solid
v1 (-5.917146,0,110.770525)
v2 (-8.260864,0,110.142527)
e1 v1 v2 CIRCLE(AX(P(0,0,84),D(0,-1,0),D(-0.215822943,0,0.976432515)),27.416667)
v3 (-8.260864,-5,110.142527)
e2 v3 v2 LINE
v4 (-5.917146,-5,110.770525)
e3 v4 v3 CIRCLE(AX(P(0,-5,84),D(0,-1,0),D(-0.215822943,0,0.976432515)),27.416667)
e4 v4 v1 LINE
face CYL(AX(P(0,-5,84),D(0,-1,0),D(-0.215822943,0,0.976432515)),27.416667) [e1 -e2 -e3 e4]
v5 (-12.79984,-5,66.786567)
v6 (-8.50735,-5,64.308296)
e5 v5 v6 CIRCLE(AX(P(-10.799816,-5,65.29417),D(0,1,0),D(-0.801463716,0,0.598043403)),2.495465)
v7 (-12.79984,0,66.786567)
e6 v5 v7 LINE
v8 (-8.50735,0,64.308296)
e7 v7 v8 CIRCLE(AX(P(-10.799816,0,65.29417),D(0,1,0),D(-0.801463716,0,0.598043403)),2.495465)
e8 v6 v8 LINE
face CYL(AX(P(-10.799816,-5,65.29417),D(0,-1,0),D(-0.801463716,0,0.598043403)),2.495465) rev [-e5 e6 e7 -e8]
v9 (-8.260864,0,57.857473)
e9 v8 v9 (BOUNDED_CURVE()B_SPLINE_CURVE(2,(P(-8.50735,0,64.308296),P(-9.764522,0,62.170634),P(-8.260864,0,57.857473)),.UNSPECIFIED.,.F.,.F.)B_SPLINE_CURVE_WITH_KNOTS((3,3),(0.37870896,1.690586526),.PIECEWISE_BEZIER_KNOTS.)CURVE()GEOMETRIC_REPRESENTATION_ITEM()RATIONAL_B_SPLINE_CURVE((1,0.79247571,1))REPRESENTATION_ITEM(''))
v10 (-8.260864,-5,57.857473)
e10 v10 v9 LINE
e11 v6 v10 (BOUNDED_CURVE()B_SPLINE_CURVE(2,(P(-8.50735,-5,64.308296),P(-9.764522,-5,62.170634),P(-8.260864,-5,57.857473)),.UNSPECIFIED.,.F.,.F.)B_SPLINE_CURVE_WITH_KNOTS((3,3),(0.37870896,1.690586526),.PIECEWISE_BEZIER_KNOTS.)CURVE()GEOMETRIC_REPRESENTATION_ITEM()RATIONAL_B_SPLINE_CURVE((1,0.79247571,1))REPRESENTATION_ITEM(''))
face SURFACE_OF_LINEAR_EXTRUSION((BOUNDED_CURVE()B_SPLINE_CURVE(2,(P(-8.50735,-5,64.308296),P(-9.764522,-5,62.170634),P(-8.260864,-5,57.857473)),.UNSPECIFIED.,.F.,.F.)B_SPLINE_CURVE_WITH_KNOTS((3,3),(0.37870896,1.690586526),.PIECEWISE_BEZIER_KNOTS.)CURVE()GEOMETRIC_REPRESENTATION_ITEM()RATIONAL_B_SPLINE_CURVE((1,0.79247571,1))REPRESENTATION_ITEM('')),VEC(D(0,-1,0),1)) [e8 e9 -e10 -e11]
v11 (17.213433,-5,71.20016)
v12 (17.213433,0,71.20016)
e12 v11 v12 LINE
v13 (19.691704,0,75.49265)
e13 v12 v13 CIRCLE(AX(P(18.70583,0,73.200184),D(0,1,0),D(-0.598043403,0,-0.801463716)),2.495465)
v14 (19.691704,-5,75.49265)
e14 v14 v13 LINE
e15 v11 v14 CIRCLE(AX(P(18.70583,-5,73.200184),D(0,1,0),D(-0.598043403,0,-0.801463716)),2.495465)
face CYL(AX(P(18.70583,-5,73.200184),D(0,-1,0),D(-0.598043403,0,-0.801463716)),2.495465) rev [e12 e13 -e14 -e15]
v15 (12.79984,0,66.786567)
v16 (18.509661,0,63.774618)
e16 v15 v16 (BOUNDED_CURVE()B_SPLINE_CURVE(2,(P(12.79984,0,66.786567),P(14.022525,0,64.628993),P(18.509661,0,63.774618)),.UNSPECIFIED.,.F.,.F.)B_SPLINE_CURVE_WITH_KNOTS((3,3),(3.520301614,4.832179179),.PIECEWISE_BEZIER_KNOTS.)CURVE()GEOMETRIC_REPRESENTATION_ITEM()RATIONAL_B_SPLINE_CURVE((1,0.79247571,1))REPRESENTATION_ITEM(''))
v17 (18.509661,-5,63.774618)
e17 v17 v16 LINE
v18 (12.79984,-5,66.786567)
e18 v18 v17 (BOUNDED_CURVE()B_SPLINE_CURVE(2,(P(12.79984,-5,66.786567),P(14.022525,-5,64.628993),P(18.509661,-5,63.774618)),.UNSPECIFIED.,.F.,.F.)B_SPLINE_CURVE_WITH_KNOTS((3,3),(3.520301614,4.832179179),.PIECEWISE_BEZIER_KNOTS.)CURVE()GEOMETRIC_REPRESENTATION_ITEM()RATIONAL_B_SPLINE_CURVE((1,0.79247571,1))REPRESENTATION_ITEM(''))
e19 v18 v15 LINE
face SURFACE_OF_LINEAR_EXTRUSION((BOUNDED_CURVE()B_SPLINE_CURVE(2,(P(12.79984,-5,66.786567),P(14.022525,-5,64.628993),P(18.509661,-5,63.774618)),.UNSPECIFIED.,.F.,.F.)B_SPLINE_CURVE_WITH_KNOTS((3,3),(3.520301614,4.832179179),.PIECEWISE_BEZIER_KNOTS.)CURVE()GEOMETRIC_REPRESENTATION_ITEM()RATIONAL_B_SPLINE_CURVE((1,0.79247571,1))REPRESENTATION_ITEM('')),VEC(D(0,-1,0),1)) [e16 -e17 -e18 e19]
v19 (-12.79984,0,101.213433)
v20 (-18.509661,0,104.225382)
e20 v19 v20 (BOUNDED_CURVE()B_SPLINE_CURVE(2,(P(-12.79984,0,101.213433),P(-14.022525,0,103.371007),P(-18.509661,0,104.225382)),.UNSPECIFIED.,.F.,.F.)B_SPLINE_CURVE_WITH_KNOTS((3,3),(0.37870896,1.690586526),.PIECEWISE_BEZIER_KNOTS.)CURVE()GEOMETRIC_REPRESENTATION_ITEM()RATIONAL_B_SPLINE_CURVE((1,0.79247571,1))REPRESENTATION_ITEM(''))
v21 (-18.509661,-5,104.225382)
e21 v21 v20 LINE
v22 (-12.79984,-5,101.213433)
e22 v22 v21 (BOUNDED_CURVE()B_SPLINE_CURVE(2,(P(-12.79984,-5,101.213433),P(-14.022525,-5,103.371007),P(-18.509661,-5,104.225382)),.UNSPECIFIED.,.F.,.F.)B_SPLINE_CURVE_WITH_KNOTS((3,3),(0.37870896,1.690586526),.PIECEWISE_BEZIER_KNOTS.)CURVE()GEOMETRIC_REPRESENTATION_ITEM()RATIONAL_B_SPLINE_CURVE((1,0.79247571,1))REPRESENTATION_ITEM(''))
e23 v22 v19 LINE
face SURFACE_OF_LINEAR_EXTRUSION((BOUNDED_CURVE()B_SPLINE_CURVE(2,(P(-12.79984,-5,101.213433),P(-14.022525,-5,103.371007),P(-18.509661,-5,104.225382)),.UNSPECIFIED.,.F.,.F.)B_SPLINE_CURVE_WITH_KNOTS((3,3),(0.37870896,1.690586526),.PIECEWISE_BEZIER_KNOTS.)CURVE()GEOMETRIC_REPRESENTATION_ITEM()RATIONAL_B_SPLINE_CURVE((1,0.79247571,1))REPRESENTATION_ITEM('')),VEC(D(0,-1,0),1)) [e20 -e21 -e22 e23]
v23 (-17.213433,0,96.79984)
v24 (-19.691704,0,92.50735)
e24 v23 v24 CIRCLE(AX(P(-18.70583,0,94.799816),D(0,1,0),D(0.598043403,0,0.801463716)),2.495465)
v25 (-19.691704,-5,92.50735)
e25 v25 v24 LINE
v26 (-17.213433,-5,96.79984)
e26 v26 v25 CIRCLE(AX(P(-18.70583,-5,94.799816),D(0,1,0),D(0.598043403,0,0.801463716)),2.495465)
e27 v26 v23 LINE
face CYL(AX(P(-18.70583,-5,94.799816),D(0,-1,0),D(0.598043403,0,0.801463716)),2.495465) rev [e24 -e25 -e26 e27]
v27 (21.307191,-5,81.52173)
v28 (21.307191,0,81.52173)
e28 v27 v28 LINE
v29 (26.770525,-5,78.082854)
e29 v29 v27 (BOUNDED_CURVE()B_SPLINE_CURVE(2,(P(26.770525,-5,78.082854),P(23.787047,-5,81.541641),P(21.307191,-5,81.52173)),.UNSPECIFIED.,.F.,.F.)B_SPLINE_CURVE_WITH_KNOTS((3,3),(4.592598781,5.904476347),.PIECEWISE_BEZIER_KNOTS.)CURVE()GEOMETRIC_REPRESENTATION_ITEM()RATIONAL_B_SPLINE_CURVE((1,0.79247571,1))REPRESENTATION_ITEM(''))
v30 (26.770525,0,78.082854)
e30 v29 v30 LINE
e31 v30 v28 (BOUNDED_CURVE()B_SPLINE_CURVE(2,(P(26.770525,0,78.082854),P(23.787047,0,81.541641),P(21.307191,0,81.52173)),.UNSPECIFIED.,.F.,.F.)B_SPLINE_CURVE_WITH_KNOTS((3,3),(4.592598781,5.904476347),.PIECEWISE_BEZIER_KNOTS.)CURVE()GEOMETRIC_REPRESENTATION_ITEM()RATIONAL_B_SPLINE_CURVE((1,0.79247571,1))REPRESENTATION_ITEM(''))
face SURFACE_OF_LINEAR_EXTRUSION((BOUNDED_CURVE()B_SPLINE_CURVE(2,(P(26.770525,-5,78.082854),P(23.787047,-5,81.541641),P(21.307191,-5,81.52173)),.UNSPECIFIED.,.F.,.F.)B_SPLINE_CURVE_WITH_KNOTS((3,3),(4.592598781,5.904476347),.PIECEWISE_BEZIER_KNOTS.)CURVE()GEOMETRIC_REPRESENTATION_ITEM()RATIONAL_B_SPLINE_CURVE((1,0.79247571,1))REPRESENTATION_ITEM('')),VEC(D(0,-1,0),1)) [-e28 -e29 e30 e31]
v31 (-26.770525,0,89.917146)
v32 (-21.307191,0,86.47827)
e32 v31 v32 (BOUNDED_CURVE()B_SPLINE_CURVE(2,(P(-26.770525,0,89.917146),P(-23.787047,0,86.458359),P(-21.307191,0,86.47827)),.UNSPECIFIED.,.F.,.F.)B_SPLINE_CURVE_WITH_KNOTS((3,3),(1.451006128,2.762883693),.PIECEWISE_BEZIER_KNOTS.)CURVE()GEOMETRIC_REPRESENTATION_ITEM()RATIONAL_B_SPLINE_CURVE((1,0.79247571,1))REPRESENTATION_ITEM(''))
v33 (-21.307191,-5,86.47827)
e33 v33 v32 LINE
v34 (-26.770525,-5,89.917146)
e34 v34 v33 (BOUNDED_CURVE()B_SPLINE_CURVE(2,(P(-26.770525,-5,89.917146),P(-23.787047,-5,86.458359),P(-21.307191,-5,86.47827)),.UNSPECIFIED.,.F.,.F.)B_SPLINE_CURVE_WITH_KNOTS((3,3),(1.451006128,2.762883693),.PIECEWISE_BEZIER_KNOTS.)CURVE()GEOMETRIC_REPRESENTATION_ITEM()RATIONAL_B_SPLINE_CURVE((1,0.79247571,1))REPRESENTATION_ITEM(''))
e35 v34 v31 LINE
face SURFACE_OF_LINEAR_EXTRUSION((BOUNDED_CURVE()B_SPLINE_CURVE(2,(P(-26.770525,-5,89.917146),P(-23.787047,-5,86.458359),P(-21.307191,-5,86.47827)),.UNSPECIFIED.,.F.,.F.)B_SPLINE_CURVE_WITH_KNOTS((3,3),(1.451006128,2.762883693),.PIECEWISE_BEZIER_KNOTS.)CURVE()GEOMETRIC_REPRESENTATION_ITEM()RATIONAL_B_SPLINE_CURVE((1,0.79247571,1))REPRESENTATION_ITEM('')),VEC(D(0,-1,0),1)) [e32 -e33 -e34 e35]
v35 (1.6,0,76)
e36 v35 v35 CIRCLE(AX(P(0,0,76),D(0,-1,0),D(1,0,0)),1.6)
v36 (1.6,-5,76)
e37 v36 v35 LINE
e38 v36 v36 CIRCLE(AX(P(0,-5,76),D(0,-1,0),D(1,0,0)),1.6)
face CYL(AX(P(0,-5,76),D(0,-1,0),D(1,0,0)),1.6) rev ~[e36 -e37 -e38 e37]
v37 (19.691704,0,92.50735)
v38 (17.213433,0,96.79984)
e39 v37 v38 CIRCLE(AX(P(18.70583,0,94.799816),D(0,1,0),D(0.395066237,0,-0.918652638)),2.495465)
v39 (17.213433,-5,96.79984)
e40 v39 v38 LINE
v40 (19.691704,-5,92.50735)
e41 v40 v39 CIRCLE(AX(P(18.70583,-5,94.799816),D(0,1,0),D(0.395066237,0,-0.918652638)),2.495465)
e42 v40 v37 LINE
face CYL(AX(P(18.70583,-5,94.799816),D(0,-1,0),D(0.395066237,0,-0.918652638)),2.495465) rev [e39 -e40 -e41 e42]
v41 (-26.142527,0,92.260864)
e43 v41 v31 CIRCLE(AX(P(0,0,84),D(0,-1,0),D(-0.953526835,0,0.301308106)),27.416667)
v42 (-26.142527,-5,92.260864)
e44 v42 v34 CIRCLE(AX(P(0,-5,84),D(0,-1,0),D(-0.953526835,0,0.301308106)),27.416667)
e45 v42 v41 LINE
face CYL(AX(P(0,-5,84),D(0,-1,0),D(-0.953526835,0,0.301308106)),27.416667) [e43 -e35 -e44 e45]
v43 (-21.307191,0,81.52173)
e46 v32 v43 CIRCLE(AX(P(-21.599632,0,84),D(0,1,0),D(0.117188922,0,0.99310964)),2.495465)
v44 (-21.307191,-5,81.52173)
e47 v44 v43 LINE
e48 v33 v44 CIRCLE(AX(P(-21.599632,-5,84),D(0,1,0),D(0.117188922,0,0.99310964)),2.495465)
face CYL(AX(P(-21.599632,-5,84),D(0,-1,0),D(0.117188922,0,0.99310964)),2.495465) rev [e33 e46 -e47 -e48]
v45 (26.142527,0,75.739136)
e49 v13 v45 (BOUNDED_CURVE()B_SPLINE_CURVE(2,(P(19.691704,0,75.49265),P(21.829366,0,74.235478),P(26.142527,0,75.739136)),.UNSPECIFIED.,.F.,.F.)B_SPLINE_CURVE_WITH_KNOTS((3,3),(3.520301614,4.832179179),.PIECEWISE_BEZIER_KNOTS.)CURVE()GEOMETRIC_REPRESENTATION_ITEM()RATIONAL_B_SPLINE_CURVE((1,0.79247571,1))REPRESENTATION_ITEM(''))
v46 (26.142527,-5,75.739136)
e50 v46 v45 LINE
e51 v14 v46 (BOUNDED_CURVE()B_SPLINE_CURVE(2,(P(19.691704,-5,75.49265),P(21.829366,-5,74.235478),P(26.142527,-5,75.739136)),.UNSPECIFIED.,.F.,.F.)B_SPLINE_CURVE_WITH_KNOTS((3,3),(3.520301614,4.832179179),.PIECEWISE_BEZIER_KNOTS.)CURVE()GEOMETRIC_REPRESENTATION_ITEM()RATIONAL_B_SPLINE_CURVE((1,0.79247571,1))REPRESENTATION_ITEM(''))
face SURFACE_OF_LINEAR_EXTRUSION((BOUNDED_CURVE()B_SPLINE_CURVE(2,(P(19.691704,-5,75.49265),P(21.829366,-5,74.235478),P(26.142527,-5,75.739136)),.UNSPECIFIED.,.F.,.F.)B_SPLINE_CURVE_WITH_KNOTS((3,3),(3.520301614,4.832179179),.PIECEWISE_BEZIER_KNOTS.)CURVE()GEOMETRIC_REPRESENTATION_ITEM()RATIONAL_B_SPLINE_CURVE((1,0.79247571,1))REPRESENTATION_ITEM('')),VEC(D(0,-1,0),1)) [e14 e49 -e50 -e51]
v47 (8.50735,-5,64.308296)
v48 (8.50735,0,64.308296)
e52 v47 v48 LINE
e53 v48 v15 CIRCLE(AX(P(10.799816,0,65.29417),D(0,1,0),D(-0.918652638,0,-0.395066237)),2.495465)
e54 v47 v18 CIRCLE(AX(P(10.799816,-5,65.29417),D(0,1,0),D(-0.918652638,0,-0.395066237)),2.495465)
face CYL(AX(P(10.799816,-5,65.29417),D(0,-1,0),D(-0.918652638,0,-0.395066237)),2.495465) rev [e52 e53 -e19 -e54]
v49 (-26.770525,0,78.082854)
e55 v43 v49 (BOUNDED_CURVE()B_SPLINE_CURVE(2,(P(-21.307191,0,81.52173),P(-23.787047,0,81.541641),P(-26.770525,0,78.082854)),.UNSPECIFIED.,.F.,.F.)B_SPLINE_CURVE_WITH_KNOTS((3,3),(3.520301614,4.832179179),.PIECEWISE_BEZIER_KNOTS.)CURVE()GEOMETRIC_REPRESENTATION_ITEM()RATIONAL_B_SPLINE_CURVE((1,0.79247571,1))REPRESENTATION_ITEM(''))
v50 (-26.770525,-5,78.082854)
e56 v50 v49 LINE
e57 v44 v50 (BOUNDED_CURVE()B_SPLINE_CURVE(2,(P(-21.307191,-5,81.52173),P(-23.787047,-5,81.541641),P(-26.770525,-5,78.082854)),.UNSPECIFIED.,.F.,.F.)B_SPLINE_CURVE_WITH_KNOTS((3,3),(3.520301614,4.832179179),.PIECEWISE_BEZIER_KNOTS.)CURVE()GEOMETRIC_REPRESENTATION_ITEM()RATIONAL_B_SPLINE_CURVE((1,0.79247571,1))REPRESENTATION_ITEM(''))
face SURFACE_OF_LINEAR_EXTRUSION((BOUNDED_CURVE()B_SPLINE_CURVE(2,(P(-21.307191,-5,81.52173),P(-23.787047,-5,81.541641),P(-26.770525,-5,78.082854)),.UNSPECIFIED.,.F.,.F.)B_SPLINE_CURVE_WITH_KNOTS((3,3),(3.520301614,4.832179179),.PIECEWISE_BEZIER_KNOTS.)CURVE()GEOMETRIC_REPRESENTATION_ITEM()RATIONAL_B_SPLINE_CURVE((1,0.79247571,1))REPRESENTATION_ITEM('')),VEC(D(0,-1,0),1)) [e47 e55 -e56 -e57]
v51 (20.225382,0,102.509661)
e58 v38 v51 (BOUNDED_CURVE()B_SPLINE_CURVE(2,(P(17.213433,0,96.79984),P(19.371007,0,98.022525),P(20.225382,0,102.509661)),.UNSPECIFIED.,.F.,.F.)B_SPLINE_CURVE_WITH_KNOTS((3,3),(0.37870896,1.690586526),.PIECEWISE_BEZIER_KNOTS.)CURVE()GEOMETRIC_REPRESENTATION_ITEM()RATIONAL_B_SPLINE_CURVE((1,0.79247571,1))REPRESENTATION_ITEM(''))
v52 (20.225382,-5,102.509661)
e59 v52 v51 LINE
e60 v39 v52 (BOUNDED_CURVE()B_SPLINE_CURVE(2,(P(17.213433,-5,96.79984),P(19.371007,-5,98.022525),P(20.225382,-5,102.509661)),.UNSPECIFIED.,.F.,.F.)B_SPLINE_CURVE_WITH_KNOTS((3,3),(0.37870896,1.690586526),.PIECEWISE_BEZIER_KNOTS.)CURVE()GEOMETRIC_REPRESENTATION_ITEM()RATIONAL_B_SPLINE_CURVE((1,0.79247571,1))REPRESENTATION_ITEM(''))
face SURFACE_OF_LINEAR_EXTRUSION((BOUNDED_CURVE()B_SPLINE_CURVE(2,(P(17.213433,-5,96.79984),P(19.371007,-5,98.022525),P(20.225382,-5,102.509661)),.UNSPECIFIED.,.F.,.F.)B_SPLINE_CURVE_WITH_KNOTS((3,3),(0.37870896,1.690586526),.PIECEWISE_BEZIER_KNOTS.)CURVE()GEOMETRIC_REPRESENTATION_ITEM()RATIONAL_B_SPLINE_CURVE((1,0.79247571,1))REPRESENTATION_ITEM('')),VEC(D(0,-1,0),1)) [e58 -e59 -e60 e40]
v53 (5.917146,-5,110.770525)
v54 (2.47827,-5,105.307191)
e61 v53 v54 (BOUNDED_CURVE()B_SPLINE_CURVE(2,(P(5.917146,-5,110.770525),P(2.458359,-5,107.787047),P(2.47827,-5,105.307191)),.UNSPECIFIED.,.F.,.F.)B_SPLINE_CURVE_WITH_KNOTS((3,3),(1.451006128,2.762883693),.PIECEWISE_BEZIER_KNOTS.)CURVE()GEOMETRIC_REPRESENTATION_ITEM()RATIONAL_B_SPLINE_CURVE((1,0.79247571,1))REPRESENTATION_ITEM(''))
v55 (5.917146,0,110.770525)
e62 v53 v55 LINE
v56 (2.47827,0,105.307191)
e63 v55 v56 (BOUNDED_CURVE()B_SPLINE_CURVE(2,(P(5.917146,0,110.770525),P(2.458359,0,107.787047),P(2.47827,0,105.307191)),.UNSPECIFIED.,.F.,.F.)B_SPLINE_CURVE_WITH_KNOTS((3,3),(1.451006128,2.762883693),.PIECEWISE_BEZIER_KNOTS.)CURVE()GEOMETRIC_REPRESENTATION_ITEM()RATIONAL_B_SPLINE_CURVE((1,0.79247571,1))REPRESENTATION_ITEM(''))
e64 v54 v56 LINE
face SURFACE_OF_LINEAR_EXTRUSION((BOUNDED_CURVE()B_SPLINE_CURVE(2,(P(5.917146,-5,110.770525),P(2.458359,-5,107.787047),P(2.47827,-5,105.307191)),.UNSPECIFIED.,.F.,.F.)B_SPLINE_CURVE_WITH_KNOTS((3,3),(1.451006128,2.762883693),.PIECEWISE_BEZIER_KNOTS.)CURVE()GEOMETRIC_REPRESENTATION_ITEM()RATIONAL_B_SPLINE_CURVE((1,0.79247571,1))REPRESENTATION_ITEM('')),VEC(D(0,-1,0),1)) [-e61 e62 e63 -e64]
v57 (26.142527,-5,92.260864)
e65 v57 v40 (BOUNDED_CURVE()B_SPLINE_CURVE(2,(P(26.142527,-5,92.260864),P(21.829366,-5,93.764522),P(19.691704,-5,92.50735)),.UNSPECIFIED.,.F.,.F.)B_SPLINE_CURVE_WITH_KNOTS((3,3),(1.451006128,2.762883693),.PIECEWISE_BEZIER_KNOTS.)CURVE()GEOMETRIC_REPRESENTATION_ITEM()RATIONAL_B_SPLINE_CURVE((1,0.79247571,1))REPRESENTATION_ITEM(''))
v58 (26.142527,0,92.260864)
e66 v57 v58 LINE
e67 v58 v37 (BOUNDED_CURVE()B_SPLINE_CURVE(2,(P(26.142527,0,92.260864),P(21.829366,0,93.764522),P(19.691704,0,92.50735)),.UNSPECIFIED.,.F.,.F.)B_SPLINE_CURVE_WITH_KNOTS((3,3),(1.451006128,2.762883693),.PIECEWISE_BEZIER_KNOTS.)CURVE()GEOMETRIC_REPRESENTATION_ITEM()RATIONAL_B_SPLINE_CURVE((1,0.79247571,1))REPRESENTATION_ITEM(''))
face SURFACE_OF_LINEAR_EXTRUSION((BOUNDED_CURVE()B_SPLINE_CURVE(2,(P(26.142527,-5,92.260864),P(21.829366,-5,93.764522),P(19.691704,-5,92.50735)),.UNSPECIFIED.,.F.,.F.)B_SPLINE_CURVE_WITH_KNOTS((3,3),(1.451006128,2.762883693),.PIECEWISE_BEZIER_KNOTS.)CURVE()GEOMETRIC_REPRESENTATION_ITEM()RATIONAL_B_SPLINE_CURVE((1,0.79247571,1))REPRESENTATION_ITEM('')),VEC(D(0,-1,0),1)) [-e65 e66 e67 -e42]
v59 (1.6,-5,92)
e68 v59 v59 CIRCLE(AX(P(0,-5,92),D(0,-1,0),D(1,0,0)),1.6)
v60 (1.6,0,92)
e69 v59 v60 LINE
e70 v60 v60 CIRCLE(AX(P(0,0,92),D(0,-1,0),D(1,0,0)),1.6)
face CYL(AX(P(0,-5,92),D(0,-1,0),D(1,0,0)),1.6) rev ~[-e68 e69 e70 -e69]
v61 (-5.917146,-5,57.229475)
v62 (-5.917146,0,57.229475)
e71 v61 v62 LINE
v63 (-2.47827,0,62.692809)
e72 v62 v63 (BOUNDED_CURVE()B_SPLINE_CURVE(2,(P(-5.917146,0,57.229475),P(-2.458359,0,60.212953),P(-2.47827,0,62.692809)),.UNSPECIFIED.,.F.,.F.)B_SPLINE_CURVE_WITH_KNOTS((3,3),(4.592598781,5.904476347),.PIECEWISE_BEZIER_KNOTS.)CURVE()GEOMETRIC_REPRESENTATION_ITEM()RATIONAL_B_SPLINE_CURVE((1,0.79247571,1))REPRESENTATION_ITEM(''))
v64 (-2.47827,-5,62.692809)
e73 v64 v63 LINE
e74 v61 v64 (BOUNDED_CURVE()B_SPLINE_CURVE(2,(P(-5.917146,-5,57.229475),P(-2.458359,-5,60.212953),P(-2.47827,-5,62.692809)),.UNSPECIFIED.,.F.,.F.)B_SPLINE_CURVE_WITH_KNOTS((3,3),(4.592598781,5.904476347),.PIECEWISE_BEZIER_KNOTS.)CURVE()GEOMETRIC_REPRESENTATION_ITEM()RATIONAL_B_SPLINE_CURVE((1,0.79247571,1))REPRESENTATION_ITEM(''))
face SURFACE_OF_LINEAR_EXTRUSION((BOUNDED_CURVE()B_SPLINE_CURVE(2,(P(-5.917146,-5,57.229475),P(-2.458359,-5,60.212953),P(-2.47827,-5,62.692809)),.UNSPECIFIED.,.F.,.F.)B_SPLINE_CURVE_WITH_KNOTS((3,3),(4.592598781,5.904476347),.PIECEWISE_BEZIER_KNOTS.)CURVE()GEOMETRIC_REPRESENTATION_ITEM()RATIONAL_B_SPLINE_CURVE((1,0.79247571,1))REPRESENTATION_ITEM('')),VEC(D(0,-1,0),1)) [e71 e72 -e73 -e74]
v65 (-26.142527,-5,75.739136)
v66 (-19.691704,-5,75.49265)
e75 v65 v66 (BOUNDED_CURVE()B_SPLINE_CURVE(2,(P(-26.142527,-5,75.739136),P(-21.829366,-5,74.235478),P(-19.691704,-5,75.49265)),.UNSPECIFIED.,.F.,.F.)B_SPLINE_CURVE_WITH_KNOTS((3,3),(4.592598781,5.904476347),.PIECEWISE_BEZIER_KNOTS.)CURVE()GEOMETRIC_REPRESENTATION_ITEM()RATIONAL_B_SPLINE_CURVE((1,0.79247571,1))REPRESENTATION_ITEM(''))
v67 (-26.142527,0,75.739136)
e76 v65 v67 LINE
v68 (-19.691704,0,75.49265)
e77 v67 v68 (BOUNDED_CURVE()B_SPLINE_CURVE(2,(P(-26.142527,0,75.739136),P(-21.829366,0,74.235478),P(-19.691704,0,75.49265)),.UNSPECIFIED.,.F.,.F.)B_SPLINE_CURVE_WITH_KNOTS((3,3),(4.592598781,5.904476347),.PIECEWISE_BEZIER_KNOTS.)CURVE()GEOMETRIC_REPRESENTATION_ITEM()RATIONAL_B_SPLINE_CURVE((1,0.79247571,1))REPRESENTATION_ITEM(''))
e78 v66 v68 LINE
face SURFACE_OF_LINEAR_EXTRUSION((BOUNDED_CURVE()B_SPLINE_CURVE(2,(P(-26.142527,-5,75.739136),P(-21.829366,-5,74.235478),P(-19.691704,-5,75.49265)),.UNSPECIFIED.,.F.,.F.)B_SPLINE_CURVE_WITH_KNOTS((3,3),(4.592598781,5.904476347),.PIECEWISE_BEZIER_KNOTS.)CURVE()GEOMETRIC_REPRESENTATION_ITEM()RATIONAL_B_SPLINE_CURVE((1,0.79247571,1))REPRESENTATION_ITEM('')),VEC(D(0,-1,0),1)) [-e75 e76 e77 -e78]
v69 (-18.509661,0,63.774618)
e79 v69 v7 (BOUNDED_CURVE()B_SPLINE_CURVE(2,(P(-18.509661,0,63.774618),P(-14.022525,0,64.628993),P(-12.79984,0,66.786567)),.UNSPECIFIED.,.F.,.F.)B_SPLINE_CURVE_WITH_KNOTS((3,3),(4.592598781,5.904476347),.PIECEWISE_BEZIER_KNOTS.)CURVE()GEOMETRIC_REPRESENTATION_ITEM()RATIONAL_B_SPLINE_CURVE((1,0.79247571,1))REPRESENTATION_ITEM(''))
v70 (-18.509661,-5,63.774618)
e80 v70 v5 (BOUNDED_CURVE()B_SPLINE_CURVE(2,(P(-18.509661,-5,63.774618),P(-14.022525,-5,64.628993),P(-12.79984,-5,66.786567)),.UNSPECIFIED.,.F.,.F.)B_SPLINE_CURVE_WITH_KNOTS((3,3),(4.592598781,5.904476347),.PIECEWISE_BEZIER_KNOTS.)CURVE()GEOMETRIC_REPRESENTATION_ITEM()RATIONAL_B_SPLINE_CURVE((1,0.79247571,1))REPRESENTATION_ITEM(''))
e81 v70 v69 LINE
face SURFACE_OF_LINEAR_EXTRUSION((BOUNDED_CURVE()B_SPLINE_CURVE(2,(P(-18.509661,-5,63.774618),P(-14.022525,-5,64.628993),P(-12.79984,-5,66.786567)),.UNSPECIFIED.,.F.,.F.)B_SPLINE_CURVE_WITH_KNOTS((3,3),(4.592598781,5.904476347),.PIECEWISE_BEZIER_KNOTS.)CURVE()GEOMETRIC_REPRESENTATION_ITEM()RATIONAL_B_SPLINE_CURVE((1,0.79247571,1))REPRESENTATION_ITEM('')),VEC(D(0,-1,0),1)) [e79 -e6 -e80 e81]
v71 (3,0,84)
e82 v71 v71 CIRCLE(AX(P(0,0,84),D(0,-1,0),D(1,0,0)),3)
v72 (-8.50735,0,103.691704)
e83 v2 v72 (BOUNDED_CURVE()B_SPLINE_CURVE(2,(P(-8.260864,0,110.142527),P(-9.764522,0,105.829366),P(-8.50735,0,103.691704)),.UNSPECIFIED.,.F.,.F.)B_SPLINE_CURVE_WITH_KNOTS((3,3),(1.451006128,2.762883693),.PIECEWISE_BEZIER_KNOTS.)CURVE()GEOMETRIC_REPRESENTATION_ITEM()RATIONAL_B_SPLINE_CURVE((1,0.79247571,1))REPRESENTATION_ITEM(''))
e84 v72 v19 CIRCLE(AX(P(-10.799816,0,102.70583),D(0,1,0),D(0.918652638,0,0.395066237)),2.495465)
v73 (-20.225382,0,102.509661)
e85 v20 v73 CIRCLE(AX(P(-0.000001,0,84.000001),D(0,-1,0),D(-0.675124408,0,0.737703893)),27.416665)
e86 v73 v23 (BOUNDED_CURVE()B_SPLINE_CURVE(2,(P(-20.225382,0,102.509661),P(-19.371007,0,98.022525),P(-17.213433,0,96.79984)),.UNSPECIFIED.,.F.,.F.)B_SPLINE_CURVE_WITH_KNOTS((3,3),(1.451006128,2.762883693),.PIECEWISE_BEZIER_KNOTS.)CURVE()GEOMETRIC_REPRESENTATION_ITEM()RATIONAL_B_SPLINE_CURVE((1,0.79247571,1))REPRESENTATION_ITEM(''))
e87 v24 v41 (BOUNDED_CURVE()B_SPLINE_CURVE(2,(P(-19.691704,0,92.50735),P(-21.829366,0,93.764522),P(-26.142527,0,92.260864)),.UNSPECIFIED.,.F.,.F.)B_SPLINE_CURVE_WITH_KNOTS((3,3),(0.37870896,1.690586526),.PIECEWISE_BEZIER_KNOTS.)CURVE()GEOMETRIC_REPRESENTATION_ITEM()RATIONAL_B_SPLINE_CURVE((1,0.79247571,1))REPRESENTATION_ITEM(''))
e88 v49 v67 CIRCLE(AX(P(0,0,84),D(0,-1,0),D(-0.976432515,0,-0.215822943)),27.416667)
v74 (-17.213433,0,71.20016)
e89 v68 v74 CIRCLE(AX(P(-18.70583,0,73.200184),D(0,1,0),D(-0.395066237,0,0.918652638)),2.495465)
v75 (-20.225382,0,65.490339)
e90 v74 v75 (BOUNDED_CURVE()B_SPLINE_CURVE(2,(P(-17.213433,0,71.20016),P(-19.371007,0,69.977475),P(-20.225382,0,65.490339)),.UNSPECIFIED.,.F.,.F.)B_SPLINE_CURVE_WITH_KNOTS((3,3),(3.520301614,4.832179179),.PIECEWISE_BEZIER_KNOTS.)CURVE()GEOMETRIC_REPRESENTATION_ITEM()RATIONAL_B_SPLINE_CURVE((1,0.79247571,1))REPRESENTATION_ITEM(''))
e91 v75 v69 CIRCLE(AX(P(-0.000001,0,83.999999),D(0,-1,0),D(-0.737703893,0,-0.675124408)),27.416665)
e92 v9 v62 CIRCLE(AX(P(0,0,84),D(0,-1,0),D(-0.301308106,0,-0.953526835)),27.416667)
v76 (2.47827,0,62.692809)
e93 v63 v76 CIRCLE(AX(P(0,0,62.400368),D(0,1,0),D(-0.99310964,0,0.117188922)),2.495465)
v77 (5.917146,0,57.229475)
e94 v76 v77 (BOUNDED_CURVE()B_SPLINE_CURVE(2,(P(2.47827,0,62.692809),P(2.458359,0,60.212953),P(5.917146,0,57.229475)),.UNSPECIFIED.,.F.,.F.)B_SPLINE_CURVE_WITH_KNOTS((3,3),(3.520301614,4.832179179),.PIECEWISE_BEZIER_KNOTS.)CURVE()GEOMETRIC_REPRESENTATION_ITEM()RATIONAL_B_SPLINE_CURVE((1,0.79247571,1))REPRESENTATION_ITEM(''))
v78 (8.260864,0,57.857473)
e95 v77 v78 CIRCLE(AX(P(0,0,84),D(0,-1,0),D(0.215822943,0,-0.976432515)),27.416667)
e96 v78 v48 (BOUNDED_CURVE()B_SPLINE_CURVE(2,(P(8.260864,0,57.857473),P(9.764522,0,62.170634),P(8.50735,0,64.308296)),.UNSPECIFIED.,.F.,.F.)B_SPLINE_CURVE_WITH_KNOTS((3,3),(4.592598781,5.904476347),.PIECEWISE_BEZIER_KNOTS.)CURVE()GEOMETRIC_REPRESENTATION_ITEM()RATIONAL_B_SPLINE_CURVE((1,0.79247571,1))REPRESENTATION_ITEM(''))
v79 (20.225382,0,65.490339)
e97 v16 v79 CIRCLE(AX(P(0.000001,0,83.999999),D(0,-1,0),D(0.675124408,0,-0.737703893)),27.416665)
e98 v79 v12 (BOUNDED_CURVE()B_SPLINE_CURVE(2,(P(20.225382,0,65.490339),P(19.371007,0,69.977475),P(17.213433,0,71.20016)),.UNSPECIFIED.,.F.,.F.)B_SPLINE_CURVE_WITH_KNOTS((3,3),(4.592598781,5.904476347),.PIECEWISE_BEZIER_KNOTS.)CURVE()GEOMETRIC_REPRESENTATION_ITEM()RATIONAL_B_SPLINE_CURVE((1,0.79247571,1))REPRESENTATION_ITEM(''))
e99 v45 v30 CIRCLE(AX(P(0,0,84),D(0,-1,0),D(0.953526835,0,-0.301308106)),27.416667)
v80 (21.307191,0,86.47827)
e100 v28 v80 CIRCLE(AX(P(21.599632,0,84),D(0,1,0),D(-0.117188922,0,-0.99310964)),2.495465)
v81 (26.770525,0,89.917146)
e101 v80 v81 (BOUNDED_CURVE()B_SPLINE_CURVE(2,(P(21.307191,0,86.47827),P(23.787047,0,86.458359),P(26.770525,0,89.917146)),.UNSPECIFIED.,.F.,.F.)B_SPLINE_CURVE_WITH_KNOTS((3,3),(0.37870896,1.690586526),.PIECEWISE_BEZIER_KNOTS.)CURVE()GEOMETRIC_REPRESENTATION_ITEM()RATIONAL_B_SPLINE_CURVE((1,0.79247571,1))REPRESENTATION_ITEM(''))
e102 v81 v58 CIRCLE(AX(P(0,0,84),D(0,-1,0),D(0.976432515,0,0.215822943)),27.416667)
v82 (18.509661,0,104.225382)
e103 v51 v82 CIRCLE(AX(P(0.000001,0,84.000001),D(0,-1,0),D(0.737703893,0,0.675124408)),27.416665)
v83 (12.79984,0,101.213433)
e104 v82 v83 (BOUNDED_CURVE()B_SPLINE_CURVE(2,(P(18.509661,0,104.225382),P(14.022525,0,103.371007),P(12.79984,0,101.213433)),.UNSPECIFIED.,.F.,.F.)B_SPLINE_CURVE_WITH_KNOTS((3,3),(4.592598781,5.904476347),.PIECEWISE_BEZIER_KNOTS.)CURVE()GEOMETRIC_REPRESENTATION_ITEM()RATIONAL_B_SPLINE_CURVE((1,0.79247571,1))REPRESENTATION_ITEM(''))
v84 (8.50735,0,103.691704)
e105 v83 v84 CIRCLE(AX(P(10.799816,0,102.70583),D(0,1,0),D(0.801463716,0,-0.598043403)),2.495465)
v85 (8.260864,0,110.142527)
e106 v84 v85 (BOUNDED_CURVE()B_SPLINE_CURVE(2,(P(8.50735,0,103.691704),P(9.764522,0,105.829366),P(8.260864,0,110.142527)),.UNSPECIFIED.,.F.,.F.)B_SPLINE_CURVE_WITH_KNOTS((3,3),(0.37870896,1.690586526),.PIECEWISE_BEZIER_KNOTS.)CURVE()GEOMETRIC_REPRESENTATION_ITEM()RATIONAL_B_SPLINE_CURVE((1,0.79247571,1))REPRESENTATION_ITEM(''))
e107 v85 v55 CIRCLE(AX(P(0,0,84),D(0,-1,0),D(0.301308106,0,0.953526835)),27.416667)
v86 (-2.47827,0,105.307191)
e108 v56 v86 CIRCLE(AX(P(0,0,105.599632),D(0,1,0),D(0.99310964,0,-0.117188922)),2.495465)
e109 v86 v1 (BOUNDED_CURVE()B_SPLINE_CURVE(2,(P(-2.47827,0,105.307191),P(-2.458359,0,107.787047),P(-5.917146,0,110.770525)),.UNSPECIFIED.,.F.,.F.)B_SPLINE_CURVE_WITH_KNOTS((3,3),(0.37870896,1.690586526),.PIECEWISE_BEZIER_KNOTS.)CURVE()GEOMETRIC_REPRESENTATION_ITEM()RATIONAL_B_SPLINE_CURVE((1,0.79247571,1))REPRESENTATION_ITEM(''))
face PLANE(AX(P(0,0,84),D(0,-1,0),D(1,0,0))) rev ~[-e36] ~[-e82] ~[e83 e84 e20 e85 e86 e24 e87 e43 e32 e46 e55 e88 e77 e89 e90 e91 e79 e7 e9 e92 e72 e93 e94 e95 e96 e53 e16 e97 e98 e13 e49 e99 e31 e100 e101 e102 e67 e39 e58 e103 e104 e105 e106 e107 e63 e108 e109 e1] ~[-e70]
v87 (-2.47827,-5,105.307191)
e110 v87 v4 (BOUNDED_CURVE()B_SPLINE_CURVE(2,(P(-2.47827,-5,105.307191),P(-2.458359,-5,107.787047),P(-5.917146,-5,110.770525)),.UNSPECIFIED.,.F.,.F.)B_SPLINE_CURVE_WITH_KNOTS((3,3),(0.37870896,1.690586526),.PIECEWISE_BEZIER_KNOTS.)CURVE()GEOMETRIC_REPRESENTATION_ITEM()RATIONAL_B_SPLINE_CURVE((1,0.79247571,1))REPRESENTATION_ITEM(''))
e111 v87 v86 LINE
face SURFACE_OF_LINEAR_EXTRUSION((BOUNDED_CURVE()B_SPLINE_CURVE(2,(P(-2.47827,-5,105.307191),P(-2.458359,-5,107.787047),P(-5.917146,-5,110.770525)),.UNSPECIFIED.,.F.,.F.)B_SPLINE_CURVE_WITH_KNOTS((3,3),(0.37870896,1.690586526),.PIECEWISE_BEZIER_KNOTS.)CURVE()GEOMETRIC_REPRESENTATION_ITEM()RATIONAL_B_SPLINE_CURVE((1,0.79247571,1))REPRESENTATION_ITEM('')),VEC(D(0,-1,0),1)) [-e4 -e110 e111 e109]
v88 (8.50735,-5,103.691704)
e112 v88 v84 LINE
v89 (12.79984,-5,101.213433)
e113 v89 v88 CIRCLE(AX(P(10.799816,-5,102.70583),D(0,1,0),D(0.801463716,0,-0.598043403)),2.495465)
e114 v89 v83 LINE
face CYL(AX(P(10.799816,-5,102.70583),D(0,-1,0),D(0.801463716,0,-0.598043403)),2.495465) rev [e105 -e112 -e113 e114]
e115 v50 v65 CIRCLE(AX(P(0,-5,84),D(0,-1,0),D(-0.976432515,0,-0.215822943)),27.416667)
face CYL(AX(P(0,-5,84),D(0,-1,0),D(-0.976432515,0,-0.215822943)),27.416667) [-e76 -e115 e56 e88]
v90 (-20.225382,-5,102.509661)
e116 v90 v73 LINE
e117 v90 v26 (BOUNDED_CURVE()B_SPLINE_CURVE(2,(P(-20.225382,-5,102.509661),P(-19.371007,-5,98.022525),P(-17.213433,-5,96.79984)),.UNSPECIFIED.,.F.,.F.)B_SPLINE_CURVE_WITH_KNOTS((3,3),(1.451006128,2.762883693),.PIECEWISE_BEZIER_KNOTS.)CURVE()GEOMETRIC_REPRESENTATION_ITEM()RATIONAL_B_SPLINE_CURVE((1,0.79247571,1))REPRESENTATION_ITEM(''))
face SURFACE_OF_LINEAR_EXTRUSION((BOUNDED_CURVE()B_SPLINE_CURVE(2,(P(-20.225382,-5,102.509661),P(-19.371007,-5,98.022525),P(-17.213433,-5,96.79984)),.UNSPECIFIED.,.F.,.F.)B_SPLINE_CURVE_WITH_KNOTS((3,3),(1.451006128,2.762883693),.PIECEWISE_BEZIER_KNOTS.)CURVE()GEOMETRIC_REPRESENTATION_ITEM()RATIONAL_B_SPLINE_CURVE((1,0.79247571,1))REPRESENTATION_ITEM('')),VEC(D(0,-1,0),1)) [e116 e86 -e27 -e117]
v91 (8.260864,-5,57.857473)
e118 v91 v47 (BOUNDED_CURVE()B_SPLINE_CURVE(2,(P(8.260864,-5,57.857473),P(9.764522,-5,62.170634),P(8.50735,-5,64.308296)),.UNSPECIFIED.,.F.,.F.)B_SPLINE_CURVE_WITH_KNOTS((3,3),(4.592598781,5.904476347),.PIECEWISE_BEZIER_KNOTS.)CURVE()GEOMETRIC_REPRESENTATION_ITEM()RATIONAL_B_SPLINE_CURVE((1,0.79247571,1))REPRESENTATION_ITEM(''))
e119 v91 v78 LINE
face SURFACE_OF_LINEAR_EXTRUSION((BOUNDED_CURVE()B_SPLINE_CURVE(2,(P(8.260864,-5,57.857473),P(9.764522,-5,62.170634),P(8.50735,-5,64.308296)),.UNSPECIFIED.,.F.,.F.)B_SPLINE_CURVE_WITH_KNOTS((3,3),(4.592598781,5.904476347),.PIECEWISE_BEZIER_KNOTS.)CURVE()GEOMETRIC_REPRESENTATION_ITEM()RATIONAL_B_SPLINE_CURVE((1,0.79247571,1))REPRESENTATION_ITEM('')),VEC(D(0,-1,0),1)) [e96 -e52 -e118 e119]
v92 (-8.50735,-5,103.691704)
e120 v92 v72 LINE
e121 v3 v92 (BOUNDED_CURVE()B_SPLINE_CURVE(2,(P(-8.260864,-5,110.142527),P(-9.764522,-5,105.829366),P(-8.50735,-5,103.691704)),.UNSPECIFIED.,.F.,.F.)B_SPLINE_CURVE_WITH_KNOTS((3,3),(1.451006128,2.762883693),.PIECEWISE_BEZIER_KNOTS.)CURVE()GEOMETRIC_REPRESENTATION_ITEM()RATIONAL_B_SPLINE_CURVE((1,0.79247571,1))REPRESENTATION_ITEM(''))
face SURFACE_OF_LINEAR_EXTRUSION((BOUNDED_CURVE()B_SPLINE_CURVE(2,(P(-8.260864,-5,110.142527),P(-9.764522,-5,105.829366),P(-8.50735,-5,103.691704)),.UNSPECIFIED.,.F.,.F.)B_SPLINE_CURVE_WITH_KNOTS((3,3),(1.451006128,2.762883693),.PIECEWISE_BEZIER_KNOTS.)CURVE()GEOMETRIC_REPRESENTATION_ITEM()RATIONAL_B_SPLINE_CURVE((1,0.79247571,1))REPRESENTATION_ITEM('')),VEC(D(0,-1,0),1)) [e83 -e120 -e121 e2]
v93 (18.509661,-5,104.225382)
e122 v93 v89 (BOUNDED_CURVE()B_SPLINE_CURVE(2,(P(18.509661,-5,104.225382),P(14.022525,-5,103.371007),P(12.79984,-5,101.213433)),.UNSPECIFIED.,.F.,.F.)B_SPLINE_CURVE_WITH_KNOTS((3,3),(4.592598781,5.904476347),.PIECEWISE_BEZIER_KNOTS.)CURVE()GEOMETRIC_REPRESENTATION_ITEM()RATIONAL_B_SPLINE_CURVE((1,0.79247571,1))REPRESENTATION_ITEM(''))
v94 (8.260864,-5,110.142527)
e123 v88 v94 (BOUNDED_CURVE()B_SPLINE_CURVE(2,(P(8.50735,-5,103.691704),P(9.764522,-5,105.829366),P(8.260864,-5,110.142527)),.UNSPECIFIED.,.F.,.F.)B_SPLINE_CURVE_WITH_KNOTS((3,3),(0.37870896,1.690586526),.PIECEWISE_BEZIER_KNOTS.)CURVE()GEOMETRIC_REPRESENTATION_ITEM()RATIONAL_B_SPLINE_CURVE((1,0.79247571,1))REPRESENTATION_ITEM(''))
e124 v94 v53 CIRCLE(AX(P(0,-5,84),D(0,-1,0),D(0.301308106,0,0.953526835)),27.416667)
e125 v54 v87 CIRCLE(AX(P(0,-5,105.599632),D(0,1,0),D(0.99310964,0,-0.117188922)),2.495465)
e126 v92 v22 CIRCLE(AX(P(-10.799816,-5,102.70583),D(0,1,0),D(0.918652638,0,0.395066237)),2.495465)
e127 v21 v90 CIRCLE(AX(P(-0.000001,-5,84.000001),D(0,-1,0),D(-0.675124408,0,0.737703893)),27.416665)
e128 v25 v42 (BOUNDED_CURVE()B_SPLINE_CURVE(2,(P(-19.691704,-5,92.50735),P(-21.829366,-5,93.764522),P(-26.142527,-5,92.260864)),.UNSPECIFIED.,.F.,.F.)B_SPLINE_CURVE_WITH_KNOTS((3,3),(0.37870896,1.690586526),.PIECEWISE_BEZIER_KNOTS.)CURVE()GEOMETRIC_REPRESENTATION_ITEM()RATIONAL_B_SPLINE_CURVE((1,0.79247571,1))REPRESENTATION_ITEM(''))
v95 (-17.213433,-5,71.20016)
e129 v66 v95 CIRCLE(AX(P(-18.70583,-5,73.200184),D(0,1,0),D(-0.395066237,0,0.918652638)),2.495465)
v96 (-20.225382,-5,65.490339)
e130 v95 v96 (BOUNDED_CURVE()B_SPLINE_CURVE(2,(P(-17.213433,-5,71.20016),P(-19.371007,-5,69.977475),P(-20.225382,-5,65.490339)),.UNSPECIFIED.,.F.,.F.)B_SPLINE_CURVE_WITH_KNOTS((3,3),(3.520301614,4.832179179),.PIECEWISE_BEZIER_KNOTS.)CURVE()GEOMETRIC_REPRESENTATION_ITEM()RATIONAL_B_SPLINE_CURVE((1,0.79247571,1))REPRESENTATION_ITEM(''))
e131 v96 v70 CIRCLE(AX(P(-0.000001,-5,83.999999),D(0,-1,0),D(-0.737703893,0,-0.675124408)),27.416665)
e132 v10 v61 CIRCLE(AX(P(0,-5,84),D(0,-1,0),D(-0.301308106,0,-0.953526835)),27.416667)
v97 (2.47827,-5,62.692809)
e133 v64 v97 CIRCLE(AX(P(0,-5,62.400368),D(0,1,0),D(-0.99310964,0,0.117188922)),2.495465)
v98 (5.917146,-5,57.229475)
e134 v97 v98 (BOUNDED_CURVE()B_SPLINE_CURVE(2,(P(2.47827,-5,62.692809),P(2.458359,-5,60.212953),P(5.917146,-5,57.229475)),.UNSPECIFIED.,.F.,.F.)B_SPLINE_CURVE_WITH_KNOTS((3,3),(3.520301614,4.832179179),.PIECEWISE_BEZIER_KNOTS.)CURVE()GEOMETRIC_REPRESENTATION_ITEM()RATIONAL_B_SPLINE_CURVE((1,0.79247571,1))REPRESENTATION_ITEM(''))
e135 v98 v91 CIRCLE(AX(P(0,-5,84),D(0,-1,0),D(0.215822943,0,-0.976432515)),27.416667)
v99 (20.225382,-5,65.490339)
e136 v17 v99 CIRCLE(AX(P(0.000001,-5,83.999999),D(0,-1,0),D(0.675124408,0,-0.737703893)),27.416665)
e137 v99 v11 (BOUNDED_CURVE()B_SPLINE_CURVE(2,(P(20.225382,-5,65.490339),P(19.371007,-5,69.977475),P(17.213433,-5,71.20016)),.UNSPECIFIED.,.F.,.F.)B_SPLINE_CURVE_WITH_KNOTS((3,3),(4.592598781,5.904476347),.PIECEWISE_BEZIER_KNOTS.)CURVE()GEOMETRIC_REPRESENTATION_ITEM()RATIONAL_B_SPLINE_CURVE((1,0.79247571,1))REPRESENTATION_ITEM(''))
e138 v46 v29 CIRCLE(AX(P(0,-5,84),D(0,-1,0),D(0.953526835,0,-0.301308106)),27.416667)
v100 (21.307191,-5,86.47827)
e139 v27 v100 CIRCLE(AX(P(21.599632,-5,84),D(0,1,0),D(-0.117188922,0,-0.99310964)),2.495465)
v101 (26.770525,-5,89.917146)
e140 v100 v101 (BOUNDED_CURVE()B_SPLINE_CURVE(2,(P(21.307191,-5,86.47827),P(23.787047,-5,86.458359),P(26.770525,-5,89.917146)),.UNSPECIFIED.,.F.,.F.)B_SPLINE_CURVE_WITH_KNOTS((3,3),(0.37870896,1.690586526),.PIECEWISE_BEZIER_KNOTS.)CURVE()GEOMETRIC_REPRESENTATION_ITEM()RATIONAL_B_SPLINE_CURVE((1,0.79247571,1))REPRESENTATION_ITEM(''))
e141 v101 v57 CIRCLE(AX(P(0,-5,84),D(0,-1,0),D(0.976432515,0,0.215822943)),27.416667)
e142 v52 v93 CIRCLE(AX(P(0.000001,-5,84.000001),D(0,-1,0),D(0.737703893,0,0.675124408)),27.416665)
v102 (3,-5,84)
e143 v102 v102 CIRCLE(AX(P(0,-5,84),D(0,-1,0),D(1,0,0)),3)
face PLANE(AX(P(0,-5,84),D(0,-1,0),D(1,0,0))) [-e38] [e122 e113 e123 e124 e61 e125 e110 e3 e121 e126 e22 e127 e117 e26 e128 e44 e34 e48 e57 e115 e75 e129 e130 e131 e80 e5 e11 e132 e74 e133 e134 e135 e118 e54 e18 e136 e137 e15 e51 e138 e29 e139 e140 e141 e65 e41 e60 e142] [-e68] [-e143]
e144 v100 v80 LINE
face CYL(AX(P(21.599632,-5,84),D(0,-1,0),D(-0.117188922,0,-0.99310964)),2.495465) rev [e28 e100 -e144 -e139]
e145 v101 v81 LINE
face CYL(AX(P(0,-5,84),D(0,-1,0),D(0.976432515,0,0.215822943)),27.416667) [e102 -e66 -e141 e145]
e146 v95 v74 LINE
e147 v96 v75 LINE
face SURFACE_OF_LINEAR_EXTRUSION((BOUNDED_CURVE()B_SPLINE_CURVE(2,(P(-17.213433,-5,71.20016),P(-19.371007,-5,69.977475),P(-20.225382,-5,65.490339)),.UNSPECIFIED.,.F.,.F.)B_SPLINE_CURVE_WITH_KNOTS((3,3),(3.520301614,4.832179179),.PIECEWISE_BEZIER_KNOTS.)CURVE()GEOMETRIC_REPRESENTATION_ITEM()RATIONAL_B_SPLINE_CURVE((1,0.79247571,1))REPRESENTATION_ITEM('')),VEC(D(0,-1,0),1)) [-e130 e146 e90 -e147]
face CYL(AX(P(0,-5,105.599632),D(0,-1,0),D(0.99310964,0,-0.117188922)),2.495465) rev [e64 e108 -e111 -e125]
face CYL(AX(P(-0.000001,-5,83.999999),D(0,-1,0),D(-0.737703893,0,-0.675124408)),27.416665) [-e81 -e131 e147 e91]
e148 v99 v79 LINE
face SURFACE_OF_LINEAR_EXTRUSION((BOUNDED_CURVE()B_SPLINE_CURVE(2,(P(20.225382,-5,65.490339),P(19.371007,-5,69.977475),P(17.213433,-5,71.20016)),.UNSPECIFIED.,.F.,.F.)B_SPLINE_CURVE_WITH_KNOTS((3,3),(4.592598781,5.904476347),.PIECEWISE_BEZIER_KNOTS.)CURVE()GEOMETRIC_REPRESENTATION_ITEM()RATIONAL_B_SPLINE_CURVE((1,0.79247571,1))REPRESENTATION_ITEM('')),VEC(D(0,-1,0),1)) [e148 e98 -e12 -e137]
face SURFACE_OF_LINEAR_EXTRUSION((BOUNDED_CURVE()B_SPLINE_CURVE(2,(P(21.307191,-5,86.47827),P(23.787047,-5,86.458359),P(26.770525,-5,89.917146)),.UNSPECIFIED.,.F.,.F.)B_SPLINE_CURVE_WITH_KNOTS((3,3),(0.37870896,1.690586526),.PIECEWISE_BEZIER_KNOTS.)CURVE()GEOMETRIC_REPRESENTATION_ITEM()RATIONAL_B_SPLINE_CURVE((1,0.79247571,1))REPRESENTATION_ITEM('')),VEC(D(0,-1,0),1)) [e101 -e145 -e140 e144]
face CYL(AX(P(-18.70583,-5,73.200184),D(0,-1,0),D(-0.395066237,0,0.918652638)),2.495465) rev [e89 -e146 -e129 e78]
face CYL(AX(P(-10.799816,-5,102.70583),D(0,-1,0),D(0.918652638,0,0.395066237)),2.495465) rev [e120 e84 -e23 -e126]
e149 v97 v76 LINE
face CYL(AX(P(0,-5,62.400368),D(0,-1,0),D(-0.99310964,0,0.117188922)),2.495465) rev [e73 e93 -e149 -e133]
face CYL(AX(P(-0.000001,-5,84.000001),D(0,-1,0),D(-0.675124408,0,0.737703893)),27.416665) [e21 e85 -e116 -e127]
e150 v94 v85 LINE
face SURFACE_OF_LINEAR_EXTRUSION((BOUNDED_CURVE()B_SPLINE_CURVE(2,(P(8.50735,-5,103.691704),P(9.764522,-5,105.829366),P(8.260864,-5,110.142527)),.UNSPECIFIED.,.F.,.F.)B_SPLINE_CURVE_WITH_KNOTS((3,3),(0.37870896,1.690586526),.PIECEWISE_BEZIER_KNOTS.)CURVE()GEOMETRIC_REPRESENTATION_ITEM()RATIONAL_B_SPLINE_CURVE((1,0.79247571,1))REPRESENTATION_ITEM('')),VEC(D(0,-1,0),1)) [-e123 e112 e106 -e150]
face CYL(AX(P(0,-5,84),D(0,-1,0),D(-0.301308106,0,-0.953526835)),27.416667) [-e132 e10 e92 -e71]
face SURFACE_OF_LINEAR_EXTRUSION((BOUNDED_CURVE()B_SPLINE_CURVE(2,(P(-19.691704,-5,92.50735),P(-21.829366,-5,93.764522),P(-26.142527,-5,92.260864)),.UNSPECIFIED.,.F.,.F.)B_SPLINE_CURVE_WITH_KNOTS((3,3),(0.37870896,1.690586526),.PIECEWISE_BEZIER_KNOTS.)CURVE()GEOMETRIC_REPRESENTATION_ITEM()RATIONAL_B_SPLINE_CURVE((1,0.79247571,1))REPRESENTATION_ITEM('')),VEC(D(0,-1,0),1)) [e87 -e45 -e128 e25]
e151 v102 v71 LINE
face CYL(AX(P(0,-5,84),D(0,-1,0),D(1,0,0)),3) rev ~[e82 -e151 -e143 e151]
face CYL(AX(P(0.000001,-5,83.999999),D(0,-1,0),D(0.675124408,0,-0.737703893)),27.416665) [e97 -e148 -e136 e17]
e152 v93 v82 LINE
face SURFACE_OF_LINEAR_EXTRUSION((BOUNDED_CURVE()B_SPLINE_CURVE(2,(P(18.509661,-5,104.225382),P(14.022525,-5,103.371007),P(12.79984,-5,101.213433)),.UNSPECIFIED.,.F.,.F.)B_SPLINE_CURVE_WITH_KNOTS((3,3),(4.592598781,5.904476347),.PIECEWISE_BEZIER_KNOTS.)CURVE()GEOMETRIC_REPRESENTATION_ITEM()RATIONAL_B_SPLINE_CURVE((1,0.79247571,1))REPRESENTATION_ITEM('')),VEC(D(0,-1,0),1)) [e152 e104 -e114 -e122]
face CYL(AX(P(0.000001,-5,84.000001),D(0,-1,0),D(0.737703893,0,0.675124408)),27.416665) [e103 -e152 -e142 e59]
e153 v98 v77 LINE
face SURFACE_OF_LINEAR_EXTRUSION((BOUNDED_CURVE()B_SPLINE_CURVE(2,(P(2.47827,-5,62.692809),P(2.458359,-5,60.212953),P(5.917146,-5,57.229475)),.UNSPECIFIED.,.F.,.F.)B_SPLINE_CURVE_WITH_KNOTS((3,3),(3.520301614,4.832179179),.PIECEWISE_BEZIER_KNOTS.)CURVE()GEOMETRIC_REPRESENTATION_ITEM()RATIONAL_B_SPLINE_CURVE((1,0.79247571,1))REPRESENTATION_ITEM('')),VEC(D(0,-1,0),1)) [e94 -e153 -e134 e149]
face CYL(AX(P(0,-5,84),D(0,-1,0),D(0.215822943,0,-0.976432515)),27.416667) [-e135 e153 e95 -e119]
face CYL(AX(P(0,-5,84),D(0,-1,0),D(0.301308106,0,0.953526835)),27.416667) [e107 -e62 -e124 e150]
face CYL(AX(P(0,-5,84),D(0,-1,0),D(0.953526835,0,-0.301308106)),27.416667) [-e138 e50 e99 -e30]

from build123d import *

# Parameters (mm, degrees)
RESSALTO_EXTRUS_O1_DEPTH = 5
ESBO_O3_R                = 3
ESBO_O3_R_2              = 1.6
CORTE_EXTRUS_O1_DEPTH    = 10


with BuildPart() as part:
    # Esboço1 → Ressalto-extrusão1 (new body)
    with BuildSketch(Plane.XZ.offset(5)):
        with BuildLine():
            ThreePointArc((-19.691703555, 75.492649623), (-16.544693651, 74.447916667), (-17.213433323, 71.200159666))
            add(Edge.make_bspline(
                [(-17.213433323, 71.200159666), (-19.371007478, 69.977475346), (-20.225381706, 65.490339119)],
                knots=[3.520301614, 3.520301614, 3.520301614, 4.832179179, 4.832179179, 4.832179179], degree=2, weights=[1, 0.79247571, 1]))
            ThreePointArc((-20.225381706, 65.490339119), (-19.386510918, 64.613489082), (-18.509660881, 63.774618294))
            add(Edge.make_bspline(
                [(-18.509660881, 63.774618294), (-14.022524654, 64.628992522), (-12.799840334, 66.786566677)],
                knots=[4.592598781, 4.592598781, 4.592598781, 5.904476347, 5.904476347, 5.904476347], degree=2, weights=[1, 0.79247571, 1]))
            ThreePointArc((-12.799840334, 66.786566677), (-9.552083333, 67.455306349), (-8.507350377, 64.308296445))
            add(Edge.make_bspline(
                [(-8.507350377, 64.308296445), (-9.764522246, 62.170633685), (-8.260863918, 57.857472608)],
                knots=[0.37870896, 0.37870896, 0.37870896, 1.690586526, 1.690586526, 1.690586526], degree=2, weights=[1, 0.79247571, 1]))
            ThreePointArc((-8.260863918, 57.857472608), (-7.095955487, 57.517533596), (-5.917145685, 57.2294752))
            add(Edge.make_bspline(
                [(-5.917145685, 57.2294752), (-2.458358837, 60.2129531), (-2.478270232, 62.692809289)],
                knots=[4.592598781, 4.592598781, 4.592598781, 5.904476347, 5.904476347, 5.904476347], degree=2, weights=[1, 0.79247571, 1]))
            ThreePointArc((-2.478270232, 62.692809289), (0, 64.895833333), (2.478270232, 62.692809289))
            add(Edge.make_bspline(
                [(2.478270232, 62.692809289), (2.458358837, 60.2129531), (5.917145685, 57.2294752)],
                knots=[3.520301614, 3.520301614, 3.520301614, 4.832179179, 4.832179179, 4.832179179], degree=2, weights=[1, 0.79247571, 1]))
            ThreePointArc((5.917145685, 57.2294752), (7.095955487, 57.517533596), (8.260863918, 57.857472608))
            add(Edge.make_bspline(
                [(8.260863918, 57.857472608), (9.764522246, 62.170633685), (8.507350377, 64.308296445)],
                knots=[4.592598781, 4.592598781, 4.592598781, 5.904476347, 5.904476347, 5.904476347], degree=2, weights=[1, 0.79247571, 1]))
            ThreePointArc((8.507350377, 64.308296445), (9.552083333, 67.455306349), (12.799840334, 66.786566677))
            add(Edge.make_bspline(
                [(12.799840334, 66.786566677), (14.022524654, 64.628992522), (18.509660881, 63.774618294)],
                knots=[3.520301614, 3.520301614, 3.520301614, 4.832179179, 4.832179179, 4.832179179], degree=2, weights=[1, 0.79247571, 1]))
            ThreePointArc((18.509660881, 63.774618294), (19.386510918, 64.613489082), (20.225381706, 65.490339119))
            add(Edge.make_bspline(
                [(20.225381706, 65.490339119), (19.371007478, 69.977475346), (17.213433323, 71.200159666)],
                knots=[4.592598781, 4.592598781, 4.592598781, 5.904476347, 5.904476347, 5.904476347], degree=2, weights=[1, 0.79247571, 1]))
            ThreePointArc((17.213433323, 71.200159666), (16.544693651, 74.447916667), (19.691703555, 75.492649623))
            add(Edge.make_bspline(
                [(19.691703555, 75.492649623), (21.829366315, 74.235477754), (26.142527392, 75.739136082)],
                knots=[3.520301614, 3.520301614, 3.520301614, 4.832179179, 4.832179179, 4.832179179], degree=2, weights=[1, 0.79247571, 1]))
            ThreePointArc((26.142527392, 75.739136082), (26.482466404, 76.904044513), (26.7705248, 78.082854315))
            add(Edge.make_bspline(
                [(26.7705248, 78.082854315), (23.7870469, 81.541641163), (21.307190711, 81.521729768)],
                knots=[4.592598781, 4.592598781, 4.592598781, 5.904476347, 5.904476347, 5.904476347], degree=2, weights=[1, 0.79247571, 1]))
            ThreePointArc((21.307190711, 81.521729768), (19.104166667, 84), (21.307190711, 86.478270232))
            add(Edge.make_bspline(
                [(21.307190711, 86.478270232), (23.7870469, 86.458358837), (26.7705248, 89.917145685)],
                knots=[0.37870896, 0.37870896, 0.37870896, 1.690586526, 1.690586526, 1.690586526], degree=2, weights=[1, 0.79247571, 1]))
            ThreePointArc((26.7705248, 89.917145685), (26.482466404, 91.095955487), (26.142527392, 92.260863918))
            add(Edge.make_bspline(
                [(26.142527392, 92.260863918), (21.829366315, 93.764522246), (19.691703555, 92.507350377)],
                knots=[1.451006128, 1.451006128, 1.451006128, 2.762883693, 2.762883693, 2.762883693], degree=2, weights=[1, 0.79247571, 1]))
            ThreePointArc((19.691703555, 92.507350377), (16.544693651, 93.552083333), (17.213433323, 96.799840334))
            add(Edge.make_bspline(
                [(17.213433323, 96.799840334), (19.371007478, 98.022524654), (20.225381706, 102.509660881)],
                knots=[0.37870896, 0.37870896, 0.37870896, 1.690586526, 1.690586526, 1.690586526], degree=2, weights=[1, 0.79247571, 1]))
            ThreePointArc((20.225381706, 102.509660881), (19.386510918, 103.386510918), (18.509660881, 104.225381706))
            add(Edge.make_bspline(
                [(18.509660881, 104.225381706), (14.022524654, 103.371007478), (12.799840334, 101.213433323)],
                knots=[4.592598781, 4.592598781, 4.592598781, 5.904476347, 5.904476347, 5.904476347], degree=2, weights=[1, 0.79247571, 1]))
            ThreePointArc((12.799840334, 101.213433323), (9.552083333, 100.544693651), (8.507350377, 103.691703555))
            add(Edge.make_bspline(
                [(8.507350377, 103.691703555), (9.764522246, 105.829366315), (8.260863918, 110.142527392)],
                knots=[0.37870896, 0.37870896, 0.37870896, 1.690586526, 1.690586526, 1.690586526], degree=2, weights=[1, 0.79247571, 1]))
            ThreePointArc((8.260863918, 110.142527392), (7.095955487, 110.482466404), (5.917145685, 110.7705248))
            add(Edge.make_bspline(
                [(5.917145685, 110.7705248), (2.458358837, 107.7870469), (2.478270232, 105.307190711)],
                knots=[1.451006128, 1.451006128, 1.451006128, 2.762883693, 2.762883693, 2.762883693], degree=2, weights=[1, 0.79247571, 1]))
            ThreePointArc((2.478270232, 105.307190711), (0, 103.104166667), (-2.478270232, 105.307190711))
            add(Edge.make_bspline(
                [(-2.478270232, 105.307190711), (-2.458358837, 107.7870469), (-5.917145685, 110.7705248)],
                knots=[0.37870896, 0.37870896, 0.37870896, 1.690586526, 1.690586526, 1.690586526], degree=2, weights=[1, 0.79247571, 1]))
            ThreePointArc((-5.917145685, 110.7705248), (-7.095955487, 110.482466404), (-8.260863918, 110.142527392))
            add(Edge.make_bspline(
                [(-8.260863918, 110.142527392), (-9.764522246, 105.829366315), (-8.507350377, 103.691703555)],
                knots=[1.451006128, 1.451006128, 1.451006128, 2.762883693, 2.762883693, 2.762883693], degree=2, weights=[1, 0.79247571, 1]))
            ThreePointArc((-8.507350377, 103.691703555), (-9.552083333, 100.544693651), (-12.799840334, 101.213433323))
            add(Edge.make_bspline(
                [(-12.799840334, 101.213433323), (-14.022524654, 103.371007478), (-18.509660881, 104.225381706)],
                knots=[0.37870896, 0.37870896, 0.37870896, 1.690586526, 1.690586526, 1.690586526], degree=2, weights=[1, 0.79247571, 1]))
            ThreePointArc((-18.509660881, 104.225381706), (-19.386510918, 103.386510918), (-20.225381706, 102.509660881))
            add(Edge.make_bspline(
                [(-20.225381706, 102.509660881), (-19.371007478, 98.022524654), (-17.213433323, 96.799840334)],
                knots=[1.451006128, 1.451006128, 1.451006128, 2.762883693, 2.762883693, 2.762883693], degree=2, weights=[1, 0.79247571, 1]))
            ThreePointArc((-17.213433323, 96.799840334), (-16.544693651, 93.552083333), (-19.691703555, 92.507350377))
            add(Edge.make_bspline(
                [(-19.691703555, 92.507350377), (-21.829366315, 93.764522246), (-26.142527392, 92.260863918)],
                knots=[0.37870896, 0.37870896, 0.37870896, 1.690586526, 1.690586526, 1.690586526], degree=2, weights=[1, 0.79247571, 1]))
            ThreePointArc((-26.142527392, 92.260863918), (-26.482466404, 91.095955487), (-26.7705248, 89.917145685))
            add(Edge.make_bspline(
                [(-26.7705248, 89.917145685), (-23.7870469, 86.458358837), (-21.307190711, 86.478270232)],
                knots=[1.451006128, 1.451006128, 1.451006128, 2.762883693, 2.762883693, 2.762883693], degree=2, weights=[1, 0.79247571, 1]))
            ThreePointArc((-21.307190711, 86.478270232), (-19.104166667, 84), (-21.307190711, 81.521729768))
            add(Edge.make_bspline(
                [(-21.307190711, 81.521729768), (-23.7870469, 81.541641163), (-26.7705248, 78.082854315)],
                knots=[3.520301614, 3.520301614, 3.520301614, 4.832179179, 4.832179179, 4.832179179], degree=2, weights=[1, 0.79247571, 1]))
            ThreePointArc((-26.7705248, 78.082854315), (-26.482466404, 76.904044513), (-26.142527392, 75.739136082))
            add(Edge.make_bspline(
                [(-26.142527392, 75.739136082), (-21.829366315, 74.235477754), (-19.691703555, 75.492649623)],
                knots=[4.592598781, 4.592598781, 4.592598781, 5.904476347, 5.904476347, 5.904476347], degree=2, weights=[1, 0.79247571, 1]))
        make_face()
    extrude(amount=-RESSALTO_EXTRUS_O1_DEPTH)

    # Esboço3 → Corte-extrusão1 (cut)
    with BuildSketch(Plane.XZ.offset(5)):
        with Locations((0, 84)):
            Circle(ESBO_O3_R)
        with Locations((0, 92)):
            Circle(ESBO_O3_R_2)
        with Locations((0, 76)):
            Circle(ESBO_O3_R_2)
    extrude(amount=-CORTE_EXTRUS_O1_DEPTH, mode=Mode.SUBTRACT)


solid = part.part
